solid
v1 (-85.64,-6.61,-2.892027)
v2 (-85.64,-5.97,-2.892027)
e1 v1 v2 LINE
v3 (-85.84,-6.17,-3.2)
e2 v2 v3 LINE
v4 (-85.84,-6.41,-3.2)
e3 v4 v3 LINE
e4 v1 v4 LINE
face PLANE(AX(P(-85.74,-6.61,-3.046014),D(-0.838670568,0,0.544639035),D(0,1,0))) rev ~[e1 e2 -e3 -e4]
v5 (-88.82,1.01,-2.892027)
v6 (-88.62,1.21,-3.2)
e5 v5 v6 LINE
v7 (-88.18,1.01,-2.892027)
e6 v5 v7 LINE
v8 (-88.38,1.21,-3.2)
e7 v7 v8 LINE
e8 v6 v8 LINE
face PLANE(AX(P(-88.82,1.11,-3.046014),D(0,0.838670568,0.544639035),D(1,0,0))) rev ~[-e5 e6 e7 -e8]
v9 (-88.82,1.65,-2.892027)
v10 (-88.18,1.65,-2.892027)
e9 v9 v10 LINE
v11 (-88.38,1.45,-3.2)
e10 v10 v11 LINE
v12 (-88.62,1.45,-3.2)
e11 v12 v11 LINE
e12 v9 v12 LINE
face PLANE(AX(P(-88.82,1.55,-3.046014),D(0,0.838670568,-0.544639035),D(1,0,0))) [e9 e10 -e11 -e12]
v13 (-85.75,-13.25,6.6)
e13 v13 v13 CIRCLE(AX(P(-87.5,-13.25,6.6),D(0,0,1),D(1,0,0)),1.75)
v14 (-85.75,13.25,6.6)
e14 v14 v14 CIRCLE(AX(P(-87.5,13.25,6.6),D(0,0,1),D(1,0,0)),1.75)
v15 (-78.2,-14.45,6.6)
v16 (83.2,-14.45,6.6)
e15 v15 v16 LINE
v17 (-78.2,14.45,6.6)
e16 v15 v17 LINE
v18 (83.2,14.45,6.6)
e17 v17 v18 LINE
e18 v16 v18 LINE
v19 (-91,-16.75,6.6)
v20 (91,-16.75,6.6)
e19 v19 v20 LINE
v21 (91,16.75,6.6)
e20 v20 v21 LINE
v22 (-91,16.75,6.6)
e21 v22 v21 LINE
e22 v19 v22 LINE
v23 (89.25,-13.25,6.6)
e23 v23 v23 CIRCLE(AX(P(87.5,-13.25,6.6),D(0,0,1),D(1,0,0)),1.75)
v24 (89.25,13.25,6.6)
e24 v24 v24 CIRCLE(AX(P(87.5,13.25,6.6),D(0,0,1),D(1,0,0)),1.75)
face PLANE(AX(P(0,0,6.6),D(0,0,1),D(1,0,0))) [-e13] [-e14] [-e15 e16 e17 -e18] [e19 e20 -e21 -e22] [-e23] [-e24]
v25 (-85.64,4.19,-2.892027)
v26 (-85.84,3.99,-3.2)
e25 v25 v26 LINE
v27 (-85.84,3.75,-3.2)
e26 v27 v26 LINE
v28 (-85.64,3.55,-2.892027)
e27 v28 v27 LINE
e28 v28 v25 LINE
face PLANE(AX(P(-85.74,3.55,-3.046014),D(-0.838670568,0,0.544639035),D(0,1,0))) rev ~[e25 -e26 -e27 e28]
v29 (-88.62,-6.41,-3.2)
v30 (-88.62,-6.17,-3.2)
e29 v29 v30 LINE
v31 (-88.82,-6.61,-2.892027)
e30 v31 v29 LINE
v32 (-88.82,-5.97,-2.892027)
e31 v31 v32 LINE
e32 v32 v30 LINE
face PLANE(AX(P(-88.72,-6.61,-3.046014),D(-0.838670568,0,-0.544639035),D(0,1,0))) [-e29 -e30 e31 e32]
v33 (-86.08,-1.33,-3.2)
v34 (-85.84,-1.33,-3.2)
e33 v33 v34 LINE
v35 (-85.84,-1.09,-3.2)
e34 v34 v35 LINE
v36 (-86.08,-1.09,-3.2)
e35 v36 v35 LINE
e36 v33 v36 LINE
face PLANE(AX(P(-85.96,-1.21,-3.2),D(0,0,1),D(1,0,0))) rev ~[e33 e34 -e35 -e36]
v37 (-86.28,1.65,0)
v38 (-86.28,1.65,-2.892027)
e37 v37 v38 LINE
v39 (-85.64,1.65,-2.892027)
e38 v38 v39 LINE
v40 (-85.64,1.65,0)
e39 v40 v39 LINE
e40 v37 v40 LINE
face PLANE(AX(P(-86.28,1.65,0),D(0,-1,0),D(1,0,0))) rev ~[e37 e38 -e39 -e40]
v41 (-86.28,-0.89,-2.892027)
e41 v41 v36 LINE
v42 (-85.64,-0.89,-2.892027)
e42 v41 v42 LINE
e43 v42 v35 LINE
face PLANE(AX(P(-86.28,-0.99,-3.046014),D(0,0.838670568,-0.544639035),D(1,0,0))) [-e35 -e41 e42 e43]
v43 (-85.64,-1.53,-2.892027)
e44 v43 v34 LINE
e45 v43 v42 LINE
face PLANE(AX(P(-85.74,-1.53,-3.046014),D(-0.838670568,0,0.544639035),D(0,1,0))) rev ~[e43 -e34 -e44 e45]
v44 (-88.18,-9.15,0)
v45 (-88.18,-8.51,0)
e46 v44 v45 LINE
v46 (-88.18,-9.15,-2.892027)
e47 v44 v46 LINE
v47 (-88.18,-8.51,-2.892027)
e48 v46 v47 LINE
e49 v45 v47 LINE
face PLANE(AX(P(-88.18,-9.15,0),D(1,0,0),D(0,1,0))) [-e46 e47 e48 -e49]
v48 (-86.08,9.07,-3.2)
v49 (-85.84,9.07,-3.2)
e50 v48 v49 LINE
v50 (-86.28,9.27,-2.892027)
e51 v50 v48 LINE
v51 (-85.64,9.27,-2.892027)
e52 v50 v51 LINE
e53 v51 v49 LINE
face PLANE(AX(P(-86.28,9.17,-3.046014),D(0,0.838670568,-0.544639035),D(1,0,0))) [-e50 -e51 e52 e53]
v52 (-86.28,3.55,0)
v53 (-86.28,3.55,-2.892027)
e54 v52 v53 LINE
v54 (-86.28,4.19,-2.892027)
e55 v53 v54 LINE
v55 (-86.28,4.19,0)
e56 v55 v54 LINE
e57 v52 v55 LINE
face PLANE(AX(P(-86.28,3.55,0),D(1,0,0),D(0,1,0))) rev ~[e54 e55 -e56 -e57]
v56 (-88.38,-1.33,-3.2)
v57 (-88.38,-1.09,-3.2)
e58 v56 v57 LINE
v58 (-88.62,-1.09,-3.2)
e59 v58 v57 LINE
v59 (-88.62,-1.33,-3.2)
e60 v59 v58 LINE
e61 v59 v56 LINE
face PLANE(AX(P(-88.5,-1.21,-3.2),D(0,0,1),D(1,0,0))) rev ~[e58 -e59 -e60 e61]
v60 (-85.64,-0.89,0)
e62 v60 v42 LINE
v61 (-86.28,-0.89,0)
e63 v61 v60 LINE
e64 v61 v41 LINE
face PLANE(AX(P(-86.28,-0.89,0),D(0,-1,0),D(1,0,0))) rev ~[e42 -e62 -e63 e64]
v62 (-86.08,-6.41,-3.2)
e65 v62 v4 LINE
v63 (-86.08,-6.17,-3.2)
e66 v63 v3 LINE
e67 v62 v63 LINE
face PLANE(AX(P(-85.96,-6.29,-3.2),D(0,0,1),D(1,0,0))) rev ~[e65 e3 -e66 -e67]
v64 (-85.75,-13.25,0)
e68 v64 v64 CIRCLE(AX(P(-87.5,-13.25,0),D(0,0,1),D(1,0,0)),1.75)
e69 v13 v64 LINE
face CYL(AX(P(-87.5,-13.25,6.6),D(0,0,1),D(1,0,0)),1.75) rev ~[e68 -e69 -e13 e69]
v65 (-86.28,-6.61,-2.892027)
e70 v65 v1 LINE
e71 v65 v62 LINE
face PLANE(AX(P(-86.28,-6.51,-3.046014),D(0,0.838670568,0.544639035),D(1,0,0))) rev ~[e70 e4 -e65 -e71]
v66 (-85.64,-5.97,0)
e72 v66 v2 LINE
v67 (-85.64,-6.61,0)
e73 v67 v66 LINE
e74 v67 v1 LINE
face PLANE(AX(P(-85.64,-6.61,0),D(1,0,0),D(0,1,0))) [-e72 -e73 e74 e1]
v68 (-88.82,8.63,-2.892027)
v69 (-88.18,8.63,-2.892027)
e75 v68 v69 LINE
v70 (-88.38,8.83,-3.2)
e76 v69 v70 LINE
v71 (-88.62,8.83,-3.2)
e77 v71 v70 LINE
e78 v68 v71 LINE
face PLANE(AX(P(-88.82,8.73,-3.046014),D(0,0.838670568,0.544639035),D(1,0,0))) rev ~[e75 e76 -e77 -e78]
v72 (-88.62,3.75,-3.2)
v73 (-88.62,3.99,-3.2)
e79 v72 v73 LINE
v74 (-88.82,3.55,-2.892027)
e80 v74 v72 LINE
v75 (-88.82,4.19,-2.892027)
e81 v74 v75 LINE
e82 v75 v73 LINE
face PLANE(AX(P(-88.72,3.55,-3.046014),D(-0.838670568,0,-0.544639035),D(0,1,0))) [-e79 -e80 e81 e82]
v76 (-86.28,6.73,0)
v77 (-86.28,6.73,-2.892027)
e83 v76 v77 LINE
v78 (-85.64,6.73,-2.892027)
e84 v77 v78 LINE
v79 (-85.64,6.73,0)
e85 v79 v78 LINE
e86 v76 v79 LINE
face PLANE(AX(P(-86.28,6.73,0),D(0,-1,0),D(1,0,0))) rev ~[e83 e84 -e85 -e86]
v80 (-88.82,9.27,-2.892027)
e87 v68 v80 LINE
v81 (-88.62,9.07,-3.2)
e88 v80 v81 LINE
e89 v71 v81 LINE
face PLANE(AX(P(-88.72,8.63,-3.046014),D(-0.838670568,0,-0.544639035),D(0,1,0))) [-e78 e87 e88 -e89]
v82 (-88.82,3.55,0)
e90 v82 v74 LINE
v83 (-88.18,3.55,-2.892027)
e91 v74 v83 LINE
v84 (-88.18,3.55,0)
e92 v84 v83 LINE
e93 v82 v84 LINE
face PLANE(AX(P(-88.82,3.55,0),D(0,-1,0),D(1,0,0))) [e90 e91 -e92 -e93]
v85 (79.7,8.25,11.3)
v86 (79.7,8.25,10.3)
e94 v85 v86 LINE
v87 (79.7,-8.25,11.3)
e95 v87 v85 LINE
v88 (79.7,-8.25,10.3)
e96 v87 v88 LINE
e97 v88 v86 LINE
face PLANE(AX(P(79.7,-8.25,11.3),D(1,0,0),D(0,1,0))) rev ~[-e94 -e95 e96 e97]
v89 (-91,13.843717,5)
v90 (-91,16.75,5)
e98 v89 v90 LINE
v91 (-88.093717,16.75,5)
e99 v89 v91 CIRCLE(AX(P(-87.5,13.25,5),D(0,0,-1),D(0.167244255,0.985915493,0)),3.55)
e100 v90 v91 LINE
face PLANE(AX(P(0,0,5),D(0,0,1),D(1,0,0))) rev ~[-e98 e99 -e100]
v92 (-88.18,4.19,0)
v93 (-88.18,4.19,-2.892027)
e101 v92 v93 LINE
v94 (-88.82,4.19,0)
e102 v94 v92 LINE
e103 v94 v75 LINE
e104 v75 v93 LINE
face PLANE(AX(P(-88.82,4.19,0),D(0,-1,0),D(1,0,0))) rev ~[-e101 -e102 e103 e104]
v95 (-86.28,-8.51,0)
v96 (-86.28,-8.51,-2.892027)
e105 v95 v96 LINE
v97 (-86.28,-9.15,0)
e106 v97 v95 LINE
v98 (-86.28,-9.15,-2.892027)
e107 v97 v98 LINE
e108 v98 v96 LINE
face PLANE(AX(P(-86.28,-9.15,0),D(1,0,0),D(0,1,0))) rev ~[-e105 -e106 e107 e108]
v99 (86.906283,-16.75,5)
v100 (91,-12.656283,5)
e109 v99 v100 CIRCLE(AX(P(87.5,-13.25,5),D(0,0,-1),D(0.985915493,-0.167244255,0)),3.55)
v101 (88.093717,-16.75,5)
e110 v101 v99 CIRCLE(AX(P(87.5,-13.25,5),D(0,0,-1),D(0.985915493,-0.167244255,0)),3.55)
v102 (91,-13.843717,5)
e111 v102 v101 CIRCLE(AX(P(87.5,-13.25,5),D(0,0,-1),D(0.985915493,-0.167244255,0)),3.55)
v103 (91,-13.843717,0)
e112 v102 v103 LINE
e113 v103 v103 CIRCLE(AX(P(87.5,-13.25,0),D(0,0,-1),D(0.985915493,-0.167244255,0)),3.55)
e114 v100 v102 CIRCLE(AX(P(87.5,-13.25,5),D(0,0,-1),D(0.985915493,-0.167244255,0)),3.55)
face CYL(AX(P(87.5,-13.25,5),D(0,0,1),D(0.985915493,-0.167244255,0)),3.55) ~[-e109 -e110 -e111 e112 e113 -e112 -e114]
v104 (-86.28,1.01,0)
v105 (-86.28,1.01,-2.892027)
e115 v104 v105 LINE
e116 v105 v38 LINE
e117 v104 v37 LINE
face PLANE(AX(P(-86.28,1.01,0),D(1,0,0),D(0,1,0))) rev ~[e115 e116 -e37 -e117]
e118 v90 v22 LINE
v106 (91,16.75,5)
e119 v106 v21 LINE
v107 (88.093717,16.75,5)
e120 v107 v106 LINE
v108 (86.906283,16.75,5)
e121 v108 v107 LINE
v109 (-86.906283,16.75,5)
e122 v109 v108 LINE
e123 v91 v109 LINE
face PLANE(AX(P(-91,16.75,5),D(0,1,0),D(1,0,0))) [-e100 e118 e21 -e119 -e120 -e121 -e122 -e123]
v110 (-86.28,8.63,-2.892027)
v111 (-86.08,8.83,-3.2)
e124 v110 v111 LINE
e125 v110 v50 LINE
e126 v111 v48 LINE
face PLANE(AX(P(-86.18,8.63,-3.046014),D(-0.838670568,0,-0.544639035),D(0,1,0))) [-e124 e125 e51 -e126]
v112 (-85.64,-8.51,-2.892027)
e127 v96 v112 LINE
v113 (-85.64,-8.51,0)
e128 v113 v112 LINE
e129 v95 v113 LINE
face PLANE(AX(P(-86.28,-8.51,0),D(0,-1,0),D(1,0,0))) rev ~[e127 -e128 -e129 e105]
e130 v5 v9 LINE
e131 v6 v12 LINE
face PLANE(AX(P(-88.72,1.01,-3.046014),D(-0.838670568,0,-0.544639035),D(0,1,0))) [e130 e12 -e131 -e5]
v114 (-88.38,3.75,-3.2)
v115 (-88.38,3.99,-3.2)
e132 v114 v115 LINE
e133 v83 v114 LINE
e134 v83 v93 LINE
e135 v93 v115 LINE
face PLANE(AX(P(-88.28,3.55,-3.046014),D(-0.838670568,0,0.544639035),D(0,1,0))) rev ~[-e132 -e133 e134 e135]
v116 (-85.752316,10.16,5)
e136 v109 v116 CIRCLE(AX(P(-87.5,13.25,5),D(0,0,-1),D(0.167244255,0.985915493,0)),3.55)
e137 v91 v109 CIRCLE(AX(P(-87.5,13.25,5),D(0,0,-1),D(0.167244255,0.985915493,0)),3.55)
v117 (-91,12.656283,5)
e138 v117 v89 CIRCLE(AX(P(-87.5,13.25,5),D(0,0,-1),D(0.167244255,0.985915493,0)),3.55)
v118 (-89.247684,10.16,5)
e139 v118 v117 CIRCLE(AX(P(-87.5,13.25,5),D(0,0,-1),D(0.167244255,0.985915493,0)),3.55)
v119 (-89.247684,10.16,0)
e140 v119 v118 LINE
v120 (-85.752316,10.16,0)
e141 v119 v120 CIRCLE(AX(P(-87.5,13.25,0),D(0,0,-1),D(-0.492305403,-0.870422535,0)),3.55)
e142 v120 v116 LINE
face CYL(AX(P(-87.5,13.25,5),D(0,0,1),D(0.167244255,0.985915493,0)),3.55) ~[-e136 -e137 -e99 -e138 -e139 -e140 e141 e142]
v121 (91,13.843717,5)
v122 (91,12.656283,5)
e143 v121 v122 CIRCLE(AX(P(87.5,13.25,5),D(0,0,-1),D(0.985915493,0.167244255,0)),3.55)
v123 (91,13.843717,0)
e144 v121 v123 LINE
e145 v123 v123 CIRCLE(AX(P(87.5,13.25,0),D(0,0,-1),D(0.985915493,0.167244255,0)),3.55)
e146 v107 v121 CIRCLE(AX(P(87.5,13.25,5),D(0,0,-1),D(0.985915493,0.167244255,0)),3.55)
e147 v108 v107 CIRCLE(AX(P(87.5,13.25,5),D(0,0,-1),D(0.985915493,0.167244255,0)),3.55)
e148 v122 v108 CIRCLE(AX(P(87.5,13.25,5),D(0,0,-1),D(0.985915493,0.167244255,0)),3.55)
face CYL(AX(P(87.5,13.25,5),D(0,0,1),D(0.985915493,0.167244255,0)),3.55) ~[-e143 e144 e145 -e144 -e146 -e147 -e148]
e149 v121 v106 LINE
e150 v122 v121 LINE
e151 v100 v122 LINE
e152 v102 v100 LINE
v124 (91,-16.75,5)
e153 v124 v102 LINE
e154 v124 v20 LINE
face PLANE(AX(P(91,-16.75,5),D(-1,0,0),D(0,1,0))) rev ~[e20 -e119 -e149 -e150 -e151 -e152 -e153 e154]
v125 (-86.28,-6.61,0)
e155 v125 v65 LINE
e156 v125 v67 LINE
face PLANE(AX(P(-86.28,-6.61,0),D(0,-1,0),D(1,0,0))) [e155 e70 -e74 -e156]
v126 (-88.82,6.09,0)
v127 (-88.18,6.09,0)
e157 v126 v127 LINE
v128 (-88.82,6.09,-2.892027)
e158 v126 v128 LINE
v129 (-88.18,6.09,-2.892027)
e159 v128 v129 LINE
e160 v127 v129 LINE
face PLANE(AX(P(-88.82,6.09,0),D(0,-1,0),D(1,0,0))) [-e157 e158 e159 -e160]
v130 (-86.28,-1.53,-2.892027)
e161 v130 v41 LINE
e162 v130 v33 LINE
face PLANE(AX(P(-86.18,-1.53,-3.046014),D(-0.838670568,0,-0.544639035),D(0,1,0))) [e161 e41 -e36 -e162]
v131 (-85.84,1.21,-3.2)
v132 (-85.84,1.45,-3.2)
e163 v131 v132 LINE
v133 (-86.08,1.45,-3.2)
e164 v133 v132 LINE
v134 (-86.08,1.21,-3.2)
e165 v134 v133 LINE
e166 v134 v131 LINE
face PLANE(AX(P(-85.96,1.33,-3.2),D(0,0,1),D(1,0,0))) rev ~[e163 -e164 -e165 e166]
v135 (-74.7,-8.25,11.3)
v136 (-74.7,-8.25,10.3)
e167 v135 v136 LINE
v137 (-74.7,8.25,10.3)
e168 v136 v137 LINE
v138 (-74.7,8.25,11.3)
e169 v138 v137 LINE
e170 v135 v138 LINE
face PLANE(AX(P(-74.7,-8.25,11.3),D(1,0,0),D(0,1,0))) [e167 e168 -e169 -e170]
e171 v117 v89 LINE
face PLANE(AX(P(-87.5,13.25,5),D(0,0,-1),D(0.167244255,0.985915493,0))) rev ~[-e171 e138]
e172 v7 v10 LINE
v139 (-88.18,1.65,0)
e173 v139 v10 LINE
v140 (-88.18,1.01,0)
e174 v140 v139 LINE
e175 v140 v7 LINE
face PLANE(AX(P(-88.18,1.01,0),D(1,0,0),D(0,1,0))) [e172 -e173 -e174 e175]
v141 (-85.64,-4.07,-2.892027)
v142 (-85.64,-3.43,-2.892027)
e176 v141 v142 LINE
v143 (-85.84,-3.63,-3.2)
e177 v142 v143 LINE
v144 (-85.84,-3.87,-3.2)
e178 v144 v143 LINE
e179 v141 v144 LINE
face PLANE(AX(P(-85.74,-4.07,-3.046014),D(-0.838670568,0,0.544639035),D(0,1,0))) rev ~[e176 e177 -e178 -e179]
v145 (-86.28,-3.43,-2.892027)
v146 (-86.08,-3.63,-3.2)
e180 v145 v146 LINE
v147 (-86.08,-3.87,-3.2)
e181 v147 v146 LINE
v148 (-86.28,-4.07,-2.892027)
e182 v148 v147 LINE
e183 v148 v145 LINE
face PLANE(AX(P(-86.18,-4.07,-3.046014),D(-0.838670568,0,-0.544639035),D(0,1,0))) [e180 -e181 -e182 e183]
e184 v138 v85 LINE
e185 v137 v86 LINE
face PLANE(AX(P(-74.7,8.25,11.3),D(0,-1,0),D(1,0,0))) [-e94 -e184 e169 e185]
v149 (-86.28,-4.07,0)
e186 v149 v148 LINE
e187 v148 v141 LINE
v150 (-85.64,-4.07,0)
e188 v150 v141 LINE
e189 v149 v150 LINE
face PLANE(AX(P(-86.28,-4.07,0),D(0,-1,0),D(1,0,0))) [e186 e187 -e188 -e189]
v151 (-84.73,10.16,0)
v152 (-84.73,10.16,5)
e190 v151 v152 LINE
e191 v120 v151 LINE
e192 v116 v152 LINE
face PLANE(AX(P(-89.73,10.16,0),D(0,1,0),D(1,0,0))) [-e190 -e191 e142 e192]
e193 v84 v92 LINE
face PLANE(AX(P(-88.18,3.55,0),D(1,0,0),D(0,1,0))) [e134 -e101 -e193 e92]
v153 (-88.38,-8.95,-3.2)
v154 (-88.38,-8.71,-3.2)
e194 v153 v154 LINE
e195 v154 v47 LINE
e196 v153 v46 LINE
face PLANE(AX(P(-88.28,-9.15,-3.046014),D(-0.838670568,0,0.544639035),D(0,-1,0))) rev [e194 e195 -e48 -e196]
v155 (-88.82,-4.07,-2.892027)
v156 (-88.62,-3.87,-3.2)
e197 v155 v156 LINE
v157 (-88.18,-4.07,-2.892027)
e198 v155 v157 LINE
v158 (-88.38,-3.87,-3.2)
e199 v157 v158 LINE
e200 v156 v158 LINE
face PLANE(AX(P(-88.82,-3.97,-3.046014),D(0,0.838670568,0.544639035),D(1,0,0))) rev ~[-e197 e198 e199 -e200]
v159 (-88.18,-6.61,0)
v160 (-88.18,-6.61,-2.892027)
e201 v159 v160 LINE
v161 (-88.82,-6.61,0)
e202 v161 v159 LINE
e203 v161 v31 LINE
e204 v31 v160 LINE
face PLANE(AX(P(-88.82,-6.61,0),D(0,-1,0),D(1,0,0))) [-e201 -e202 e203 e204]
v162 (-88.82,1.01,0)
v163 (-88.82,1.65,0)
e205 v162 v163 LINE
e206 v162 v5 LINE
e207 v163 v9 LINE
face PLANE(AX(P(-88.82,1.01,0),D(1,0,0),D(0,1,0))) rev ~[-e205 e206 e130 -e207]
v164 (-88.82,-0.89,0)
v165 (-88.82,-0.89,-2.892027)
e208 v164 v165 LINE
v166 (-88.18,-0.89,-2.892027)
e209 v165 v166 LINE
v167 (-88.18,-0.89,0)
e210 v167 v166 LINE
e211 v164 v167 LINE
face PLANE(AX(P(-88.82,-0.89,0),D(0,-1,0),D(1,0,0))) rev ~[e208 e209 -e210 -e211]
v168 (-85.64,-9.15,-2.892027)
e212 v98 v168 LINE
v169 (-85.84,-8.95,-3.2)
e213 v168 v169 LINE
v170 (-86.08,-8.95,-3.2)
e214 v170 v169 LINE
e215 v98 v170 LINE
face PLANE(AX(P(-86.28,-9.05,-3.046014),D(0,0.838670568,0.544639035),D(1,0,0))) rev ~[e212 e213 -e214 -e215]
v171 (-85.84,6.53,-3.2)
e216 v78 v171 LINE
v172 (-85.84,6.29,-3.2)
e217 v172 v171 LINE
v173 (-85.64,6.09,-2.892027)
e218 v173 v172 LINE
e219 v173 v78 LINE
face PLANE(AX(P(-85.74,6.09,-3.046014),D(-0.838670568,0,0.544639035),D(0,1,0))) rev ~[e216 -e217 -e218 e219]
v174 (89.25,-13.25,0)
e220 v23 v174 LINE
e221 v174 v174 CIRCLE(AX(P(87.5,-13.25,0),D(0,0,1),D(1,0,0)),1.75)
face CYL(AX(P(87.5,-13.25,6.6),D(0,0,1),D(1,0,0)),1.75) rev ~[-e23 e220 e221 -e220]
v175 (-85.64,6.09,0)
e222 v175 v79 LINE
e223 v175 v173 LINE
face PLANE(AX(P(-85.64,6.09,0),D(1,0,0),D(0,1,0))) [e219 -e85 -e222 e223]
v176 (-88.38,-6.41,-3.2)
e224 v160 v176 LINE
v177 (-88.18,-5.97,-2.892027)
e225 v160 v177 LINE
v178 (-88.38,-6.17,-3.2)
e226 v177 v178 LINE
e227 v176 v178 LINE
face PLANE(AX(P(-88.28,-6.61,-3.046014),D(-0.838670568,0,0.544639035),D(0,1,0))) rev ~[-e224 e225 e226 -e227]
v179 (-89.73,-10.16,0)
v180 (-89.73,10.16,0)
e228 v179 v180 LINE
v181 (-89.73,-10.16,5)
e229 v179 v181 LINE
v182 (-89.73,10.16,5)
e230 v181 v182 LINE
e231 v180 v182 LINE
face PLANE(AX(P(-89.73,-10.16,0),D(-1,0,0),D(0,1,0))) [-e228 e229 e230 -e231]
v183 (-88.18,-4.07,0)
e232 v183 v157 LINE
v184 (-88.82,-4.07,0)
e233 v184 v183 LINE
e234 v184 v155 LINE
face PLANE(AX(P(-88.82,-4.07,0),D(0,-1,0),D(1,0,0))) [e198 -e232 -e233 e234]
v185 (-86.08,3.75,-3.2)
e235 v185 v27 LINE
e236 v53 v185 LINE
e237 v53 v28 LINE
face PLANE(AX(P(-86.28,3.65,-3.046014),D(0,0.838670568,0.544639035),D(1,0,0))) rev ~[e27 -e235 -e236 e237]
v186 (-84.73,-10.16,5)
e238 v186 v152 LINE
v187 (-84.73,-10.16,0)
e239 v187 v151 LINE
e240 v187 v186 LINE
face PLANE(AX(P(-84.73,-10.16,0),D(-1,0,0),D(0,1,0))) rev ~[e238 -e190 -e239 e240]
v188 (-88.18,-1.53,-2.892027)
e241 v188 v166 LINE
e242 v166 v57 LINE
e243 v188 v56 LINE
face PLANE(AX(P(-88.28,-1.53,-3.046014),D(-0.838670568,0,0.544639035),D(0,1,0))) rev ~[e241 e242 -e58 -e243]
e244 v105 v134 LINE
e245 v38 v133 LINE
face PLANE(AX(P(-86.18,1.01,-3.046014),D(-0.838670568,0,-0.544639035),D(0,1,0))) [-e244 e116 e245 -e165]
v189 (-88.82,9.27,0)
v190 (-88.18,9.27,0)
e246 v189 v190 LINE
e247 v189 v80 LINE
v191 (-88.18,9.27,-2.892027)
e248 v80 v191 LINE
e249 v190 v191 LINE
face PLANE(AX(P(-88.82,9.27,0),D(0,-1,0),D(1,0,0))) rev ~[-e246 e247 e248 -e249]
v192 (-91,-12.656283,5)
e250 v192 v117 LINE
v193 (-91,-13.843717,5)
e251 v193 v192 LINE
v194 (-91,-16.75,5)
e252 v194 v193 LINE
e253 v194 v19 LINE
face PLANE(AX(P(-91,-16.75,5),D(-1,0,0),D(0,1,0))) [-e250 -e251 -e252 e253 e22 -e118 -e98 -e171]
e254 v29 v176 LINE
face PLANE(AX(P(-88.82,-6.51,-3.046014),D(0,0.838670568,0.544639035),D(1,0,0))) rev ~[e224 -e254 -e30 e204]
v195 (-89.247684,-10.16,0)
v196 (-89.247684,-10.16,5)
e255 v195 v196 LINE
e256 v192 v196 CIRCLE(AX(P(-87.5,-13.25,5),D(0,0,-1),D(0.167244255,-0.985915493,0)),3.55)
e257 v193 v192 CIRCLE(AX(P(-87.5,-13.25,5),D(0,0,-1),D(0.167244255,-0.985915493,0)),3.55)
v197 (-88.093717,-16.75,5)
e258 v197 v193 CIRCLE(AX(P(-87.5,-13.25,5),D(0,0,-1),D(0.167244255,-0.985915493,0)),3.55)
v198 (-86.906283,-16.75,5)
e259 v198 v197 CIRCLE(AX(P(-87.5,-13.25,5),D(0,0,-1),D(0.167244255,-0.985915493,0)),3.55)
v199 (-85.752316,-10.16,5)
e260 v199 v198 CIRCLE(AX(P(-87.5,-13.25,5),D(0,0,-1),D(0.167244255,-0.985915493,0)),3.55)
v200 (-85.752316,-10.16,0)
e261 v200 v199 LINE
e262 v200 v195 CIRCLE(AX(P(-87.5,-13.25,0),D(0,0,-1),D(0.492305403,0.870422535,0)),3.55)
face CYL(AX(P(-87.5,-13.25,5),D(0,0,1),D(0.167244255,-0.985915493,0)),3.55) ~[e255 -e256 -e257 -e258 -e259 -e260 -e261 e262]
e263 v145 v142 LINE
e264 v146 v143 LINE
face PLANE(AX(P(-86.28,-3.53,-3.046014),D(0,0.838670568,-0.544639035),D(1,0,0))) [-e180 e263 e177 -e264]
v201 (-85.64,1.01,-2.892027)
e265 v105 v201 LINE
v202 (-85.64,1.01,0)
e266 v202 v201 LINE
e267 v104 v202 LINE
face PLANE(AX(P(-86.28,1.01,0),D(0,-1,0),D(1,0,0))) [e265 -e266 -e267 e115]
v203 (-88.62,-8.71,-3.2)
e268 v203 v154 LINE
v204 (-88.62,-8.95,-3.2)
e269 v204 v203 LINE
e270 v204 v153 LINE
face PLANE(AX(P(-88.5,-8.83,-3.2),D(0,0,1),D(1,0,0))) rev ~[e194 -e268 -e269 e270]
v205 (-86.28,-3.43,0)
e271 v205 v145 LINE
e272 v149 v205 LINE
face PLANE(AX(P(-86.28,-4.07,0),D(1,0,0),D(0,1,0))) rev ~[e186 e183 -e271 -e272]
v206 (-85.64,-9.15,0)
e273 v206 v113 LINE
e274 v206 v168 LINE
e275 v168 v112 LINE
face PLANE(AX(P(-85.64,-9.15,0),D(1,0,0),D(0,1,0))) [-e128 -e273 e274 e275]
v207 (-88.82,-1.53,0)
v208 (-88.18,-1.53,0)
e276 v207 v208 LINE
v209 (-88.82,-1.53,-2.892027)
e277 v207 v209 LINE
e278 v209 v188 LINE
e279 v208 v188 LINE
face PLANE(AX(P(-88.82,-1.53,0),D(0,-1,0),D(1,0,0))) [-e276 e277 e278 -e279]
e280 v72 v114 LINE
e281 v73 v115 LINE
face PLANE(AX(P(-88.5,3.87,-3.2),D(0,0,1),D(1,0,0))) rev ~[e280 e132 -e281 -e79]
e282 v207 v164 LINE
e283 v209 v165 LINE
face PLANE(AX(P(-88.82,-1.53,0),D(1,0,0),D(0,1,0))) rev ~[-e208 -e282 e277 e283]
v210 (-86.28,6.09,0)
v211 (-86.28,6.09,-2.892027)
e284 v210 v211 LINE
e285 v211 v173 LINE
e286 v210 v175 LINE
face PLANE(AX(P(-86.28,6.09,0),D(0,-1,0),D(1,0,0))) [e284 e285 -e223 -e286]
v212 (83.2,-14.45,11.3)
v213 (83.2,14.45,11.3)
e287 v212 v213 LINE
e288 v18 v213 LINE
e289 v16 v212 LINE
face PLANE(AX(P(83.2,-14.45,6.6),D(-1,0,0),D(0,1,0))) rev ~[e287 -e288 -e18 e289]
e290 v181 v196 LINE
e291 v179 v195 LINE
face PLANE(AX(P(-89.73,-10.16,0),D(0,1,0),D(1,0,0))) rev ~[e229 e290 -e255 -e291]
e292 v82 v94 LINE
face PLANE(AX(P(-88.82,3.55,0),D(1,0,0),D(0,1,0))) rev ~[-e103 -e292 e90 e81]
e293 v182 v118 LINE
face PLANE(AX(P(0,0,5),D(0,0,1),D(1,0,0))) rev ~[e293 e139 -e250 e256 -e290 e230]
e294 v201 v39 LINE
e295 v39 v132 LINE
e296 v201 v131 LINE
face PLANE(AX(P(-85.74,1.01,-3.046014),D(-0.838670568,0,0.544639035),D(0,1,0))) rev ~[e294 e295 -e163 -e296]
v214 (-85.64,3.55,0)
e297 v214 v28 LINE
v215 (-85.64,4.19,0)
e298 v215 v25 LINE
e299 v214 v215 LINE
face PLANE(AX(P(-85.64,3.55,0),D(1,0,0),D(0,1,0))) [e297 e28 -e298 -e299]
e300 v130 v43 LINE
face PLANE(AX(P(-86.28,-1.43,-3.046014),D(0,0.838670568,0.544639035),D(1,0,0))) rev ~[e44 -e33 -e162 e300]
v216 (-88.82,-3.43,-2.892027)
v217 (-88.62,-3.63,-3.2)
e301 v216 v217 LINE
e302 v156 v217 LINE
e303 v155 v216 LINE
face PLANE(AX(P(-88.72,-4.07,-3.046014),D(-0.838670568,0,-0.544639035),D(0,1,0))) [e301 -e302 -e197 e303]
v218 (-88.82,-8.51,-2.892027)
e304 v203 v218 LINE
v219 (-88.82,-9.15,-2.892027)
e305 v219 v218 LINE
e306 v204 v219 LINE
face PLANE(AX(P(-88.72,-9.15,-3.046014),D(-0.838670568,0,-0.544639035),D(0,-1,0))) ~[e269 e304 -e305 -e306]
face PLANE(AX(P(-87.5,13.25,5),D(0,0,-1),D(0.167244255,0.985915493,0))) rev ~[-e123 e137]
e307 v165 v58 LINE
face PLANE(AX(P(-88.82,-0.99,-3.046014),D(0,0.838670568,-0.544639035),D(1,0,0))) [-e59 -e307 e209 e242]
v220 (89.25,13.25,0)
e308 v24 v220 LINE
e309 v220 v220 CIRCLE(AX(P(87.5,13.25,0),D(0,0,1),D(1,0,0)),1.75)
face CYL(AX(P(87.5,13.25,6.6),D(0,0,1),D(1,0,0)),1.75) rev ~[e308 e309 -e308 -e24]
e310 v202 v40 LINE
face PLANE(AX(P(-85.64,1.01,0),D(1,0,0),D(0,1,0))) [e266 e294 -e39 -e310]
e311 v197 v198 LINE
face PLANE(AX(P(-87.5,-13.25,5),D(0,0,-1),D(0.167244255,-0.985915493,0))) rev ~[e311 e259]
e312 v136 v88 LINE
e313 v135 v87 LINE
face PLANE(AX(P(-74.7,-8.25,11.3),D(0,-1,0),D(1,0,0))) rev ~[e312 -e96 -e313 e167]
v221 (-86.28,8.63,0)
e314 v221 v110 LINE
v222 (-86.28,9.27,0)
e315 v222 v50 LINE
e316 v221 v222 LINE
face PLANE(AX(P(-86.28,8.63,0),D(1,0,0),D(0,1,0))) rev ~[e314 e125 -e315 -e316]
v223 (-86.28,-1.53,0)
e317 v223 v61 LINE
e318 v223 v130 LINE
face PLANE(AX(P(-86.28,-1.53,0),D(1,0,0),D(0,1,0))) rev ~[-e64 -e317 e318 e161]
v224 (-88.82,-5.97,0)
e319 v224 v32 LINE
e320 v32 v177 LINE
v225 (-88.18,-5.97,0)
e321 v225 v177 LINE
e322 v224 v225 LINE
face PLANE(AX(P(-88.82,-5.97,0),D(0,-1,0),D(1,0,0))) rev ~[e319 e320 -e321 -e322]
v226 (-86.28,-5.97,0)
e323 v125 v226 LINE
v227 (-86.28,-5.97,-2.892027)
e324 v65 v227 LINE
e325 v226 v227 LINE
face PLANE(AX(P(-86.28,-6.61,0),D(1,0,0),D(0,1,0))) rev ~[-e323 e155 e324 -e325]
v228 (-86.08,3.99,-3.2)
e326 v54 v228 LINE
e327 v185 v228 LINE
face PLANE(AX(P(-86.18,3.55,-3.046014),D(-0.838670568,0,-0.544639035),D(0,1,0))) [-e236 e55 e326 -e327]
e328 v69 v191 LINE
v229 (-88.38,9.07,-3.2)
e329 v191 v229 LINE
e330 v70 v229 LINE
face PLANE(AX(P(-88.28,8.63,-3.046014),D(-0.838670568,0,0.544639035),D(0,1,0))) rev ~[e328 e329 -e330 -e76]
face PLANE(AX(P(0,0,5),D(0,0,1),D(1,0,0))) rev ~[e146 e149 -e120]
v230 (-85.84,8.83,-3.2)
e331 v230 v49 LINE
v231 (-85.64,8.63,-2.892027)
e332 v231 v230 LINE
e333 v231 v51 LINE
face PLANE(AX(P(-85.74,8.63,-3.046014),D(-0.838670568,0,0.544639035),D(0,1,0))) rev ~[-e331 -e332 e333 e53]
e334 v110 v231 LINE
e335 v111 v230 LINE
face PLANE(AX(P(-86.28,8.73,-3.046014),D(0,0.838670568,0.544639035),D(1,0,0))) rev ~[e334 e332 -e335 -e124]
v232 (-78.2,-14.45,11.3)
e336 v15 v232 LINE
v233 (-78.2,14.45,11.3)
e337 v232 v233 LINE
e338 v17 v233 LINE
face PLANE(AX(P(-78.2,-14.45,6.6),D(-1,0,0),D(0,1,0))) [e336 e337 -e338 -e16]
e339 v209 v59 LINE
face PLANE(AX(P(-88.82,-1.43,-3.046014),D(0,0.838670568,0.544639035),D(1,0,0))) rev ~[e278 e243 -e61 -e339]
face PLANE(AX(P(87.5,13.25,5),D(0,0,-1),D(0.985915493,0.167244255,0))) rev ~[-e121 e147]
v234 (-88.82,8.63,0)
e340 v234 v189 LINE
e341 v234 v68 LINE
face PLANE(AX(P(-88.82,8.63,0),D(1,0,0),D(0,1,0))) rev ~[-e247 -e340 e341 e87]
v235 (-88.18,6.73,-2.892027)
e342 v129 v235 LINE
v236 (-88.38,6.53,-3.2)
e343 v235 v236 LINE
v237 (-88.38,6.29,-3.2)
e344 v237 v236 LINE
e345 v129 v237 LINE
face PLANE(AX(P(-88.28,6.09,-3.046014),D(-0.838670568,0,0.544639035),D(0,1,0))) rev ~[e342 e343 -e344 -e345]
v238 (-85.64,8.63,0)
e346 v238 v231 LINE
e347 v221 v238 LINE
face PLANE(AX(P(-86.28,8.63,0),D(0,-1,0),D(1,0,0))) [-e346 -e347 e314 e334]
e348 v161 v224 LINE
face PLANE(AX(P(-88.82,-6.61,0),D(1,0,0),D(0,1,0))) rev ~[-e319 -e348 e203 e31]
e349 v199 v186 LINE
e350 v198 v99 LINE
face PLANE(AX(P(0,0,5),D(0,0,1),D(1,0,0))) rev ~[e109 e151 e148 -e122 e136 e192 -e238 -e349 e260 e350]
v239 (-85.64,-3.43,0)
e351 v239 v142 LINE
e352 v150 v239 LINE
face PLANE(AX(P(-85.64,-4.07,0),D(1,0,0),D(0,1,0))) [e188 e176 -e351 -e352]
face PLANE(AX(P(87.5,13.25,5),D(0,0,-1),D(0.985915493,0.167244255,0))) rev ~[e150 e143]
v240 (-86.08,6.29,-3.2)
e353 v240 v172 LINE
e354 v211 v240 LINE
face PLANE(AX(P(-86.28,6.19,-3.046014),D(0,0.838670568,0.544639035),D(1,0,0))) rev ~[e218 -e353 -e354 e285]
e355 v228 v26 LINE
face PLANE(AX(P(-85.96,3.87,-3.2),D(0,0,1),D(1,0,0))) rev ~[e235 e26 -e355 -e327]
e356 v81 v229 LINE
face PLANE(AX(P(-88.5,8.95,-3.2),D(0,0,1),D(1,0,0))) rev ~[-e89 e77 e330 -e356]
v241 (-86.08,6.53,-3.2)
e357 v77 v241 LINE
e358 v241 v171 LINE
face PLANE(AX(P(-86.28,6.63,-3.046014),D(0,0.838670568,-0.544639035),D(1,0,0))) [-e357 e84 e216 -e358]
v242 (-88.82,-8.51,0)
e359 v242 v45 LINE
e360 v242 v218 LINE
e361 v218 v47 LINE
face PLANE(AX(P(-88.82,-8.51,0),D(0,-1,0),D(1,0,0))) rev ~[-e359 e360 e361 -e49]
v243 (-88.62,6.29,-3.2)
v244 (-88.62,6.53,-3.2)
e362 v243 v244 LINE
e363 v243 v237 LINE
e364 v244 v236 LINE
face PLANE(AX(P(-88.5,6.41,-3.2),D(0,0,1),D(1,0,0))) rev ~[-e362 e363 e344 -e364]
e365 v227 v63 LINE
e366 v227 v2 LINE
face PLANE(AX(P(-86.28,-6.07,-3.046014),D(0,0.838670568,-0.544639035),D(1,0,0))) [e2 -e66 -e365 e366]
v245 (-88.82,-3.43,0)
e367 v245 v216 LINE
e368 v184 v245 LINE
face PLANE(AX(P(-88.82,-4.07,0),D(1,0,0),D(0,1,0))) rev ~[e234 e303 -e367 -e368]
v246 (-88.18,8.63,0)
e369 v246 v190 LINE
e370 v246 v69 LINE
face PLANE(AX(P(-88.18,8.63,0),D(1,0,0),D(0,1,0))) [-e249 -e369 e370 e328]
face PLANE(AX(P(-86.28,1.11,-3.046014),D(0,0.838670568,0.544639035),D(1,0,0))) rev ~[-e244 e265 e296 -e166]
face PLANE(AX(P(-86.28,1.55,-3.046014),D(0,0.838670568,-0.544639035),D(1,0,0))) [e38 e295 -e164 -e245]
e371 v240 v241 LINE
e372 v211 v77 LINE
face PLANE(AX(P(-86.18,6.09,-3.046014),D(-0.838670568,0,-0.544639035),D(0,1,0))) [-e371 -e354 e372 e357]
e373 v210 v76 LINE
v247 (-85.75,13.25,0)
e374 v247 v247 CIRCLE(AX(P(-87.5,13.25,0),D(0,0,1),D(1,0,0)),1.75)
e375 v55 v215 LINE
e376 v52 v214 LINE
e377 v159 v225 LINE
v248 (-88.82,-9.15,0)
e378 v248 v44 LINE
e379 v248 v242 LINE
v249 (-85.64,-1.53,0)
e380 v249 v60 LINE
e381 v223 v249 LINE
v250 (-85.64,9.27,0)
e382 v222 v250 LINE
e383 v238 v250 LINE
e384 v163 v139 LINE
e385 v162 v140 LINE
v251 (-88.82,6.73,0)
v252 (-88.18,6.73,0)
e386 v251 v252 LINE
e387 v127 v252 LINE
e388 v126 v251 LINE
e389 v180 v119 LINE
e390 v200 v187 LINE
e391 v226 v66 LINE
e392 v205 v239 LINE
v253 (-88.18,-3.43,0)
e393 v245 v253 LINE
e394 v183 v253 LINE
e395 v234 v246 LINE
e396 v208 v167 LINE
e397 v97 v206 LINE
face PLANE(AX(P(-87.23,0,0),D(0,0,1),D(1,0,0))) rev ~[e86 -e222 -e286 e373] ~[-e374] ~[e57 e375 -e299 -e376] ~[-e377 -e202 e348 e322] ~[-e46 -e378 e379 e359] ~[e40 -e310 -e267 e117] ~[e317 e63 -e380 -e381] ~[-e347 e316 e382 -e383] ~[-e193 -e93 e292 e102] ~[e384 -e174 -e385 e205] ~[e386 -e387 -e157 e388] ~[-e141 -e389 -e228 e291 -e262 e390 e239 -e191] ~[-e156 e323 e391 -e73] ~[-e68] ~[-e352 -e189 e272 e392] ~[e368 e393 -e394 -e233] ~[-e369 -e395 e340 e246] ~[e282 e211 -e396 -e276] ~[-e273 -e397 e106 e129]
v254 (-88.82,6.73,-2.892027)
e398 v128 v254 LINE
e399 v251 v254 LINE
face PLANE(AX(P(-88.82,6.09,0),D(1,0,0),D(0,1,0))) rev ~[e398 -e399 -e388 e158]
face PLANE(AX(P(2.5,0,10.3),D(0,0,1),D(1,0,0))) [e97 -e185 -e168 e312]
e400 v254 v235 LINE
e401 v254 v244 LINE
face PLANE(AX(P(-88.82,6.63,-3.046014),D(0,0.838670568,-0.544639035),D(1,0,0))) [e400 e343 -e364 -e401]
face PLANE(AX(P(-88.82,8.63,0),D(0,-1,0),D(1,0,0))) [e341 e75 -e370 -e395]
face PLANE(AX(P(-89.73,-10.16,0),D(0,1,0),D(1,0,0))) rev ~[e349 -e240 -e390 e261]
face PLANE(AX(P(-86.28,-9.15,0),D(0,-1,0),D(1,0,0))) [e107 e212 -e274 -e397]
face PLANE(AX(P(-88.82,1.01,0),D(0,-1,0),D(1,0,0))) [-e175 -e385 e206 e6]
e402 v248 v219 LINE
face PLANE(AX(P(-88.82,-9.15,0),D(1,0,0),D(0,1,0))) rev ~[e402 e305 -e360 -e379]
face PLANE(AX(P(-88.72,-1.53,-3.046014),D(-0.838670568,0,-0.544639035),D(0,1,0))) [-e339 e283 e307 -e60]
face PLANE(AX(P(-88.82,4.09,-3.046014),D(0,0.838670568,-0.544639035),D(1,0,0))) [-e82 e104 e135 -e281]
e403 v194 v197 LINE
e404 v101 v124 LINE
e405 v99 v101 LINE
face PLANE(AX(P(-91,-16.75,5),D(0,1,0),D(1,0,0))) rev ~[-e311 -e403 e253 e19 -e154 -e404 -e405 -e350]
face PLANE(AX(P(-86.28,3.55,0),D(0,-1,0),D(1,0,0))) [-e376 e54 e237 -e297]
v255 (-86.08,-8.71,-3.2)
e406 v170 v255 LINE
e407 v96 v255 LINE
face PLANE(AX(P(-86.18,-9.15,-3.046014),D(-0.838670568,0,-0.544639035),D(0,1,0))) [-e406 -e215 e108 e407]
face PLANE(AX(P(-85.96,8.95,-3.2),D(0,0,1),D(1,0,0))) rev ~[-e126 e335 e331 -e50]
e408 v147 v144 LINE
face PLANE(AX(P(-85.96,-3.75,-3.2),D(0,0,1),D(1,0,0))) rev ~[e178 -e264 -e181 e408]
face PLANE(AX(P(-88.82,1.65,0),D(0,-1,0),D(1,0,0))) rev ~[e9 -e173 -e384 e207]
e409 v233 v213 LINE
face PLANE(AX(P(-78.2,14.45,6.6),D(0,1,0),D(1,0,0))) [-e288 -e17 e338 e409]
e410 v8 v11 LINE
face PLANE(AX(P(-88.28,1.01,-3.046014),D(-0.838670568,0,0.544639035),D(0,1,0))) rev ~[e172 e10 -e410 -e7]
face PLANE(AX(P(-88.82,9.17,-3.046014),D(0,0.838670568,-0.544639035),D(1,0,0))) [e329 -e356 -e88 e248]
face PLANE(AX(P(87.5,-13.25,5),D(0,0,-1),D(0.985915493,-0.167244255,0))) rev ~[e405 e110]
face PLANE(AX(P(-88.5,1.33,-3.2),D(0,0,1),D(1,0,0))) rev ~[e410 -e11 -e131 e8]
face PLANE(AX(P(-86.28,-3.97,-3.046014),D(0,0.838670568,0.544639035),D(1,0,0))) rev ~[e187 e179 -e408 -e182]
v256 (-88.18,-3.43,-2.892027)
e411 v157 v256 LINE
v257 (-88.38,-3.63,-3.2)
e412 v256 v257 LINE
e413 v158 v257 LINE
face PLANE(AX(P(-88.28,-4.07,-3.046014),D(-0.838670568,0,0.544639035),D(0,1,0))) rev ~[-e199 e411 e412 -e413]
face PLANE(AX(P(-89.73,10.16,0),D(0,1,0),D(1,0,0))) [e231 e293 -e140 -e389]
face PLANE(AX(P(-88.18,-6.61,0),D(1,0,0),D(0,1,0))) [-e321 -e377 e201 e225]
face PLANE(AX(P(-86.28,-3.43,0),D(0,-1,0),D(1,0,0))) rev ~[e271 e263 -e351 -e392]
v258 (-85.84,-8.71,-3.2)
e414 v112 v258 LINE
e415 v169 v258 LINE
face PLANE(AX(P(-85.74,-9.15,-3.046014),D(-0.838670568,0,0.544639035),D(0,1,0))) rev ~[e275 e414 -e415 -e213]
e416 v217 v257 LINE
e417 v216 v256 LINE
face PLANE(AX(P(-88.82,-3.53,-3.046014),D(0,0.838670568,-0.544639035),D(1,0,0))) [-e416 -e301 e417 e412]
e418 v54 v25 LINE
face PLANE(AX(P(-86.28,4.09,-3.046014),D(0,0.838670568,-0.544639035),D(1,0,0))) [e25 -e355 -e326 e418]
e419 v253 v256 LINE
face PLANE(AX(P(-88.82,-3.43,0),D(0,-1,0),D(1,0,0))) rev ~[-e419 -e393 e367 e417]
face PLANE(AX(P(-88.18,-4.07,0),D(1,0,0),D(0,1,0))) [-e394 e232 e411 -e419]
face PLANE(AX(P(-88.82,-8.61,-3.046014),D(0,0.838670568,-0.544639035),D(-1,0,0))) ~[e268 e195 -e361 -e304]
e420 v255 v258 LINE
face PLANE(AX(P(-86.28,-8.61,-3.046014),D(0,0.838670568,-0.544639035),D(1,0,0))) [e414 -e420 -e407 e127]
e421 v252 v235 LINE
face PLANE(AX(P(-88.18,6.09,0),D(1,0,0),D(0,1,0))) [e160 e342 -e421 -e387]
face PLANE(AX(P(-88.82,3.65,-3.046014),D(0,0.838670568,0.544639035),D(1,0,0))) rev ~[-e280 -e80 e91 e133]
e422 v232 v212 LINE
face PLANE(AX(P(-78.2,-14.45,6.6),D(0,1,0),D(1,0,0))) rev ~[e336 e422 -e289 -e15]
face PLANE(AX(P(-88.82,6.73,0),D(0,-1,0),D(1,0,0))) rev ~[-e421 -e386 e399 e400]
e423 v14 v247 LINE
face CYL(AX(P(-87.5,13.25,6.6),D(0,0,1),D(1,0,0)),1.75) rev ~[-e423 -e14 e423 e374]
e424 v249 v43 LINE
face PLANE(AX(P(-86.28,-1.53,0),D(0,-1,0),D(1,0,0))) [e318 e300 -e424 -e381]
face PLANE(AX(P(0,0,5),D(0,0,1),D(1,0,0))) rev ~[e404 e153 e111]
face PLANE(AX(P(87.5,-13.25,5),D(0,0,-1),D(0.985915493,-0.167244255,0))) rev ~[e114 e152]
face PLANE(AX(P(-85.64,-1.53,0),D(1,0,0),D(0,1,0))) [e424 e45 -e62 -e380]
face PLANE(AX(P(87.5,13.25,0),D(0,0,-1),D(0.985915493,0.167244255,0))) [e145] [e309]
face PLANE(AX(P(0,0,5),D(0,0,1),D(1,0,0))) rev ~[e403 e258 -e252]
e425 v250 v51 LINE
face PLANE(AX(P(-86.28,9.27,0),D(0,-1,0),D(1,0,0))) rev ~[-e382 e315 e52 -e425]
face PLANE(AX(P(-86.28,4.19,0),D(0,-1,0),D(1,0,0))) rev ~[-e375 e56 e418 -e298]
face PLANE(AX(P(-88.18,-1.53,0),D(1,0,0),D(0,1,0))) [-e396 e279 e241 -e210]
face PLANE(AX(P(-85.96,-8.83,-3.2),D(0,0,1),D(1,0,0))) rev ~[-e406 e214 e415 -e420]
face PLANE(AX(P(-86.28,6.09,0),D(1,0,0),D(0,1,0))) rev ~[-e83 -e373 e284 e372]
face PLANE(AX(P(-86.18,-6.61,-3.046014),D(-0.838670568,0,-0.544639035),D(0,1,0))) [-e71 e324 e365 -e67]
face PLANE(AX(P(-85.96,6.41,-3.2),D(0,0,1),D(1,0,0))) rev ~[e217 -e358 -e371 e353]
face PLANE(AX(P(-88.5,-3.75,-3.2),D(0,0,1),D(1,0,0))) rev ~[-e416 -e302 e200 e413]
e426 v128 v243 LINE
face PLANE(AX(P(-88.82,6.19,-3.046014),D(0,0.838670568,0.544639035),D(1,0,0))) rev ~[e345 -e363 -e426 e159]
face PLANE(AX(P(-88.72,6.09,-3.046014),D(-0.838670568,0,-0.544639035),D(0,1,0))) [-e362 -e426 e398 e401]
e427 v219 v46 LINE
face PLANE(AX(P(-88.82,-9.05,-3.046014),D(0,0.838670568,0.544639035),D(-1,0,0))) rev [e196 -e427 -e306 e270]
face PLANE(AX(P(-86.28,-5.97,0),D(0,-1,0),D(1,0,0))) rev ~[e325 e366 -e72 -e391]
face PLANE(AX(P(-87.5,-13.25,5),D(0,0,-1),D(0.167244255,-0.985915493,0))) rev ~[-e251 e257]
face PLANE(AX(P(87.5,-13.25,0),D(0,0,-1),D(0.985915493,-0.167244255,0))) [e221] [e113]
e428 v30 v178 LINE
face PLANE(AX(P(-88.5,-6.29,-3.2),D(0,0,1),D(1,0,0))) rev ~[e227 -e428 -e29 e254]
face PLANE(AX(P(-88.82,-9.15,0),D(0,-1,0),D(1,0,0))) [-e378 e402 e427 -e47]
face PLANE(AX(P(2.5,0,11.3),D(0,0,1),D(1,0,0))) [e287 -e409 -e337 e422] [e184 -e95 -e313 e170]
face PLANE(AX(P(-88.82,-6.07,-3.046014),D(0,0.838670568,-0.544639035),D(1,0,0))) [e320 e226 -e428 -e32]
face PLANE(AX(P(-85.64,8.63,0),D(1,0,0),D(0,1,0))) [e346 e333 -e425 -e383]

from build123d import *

# Parameters (mm, degrees)
SKETCH_2_W                          = 182
SKETCH_2_H                          = 33.5
EXTRUDE_1_DEPTH                     = 1.6
SKETCH_3_W                          = 161.4
SKETCH_3_H                          = 28.9
EXTRUDE_2_DEPTH                     = 4.7
SKETCH_4_W                          = 154.4
SKETCH_4_H                          = 16.5
CUT_EXTRUDE_1_DEPTH                 = 1
SKETCH_6_R                          = 3.55
EXTRUDE_3_DEPTH                     = 5
SKETCH_5_R                          = 1.75
CUT_EXTRUDE_2_DEPTH                 = 93.821885889
SKETCH_7_W                          = 0.64
SKETCH_7_H                          = 0.64
EXTRUDE_4_DEPTH                     = 3.2
CHAMFER_1_SIZE                      = 0.2
CHAMFER_1_SIZE2                     = 0.307972993
SKETCH_9_W                          = 5
SKETCH_9_H                          = 20.32
EXTRUDE_5_DEPTH                     = 5
PATTERN_LINEAR_6_COUNT              = 8
PATTERN_LINEAR_6_PITCH              = 2.54
PATTERN_LINEAR_6_COUNT_DIR2         = 2
PATTERN_LINEAR_6_PITCH_DIR2         = 2.54
CHAMFER_1_OF_PATTERN_LINEAR_6_SIZE2 = 0.2
CHAMFER_1_OF_PATTERN_LINEAR_6_SIZE  = 0.307972993


with BuildPart() as part:
    # Эскиз2 → Бобышка-Вытянуть1 (new body)
    with BuildSketch(Plane.XY.offset(5)):
        Rectangle(SKETCH_2_W, SKETCH_2_H)
    extrude(amount=EXTRUDE_1_DEPTH)

    # Эскиз3 → Бобышка-Вытянуть2 (add)
    with BuildSketch(Plane.XY.offset(6.6)):
        with Locations((2.5, 0)):
            Rectangle(SKETCH_3_W, SKETCH_3_H)
    extrude(amount=EXTRUDE_2_DEPTH)

    # Эскиз4 → Вырез-Вытянуть1 (cut)
    with BuildSketch(Plane.XY.offset(11.3)):
        with Locations((2.5, 0)):
            Rectangle(SKETCH_4_W, SKETCH_4_H)
    extrude(amount=-CUT_EXTRUDE_1_DEPTH, mode=Mode.SUBTRACT)

    # Эскиз6 → Бобышка-Вытянуть3 (add)
    with BuildSketch(Plane(origin=(0, 0, 5), x_dir=(-1, 0, 0), z_dir=(0, 0, -1))):
        with Locations(Location((-87.5, -13.25, 0), (0, 0, 189.627632683))):
            Circle(SKETCH_6_R)
        with Locations(Location((-87.5, 13.25, 0), (0, 0, 170.372367317))):
            Circle(SKETCH_6_R)
        with Locations(Location((87.5, 13.25, 0), (0, 0, 99.627632683))):
            Circle(SKETCH_6_R)
        with Locations(Location((87.5, -13.25, 0), (0, 0, 260.372367317))):
            Circle(SKETCH_6_R)
    extrude(amount=EXTRUDE_3_DEPTH)

    # Эскиз5 → Вырез-Вытянуть2 (cut, through all)
    with BuildSketch(Plane.XY.offset(6.6)):
        with Locations((-87.5, 13.25)):
            Circle(SKETCH_5_R)
        with Locations((-87.5, -13.25)):
            Circle(SKETCH_5_R)
        with Locations((87.5, -13.25)):
            Circle(SKETCH_5_R)
        with Locations((87.5, 13.25)):
            Circle(SKETCH_5_R)
    extrude(amount=-CUT_EXTRUDE_2_DEPTH, mode=Mode.SUBTRACT)



with BuildPart() as body_2:
    # Эскиз7 → Бобышка-Вытянуть4 (new body)
    with BuildSketch(Plane.XY):
        with Locations((-88.5, -8.83)):
            Rectangle(SKETCH_7_W, SKETCH_7_H)
    extrude_4 = extrude(amount=-EXTRUDE_4_DEPTH)

    # Фаска1
    chamfer_1_edges = [body_2.edges().sort_by_distance(p)[0] for p in [
        (-88.18, -8.83, -3.2),
        (-88.5, -8.51, -3.2),
        (-88.82, -8.83, -3.2),
        (-88.5, -9.15, -3.2),
    ]]
    chamfer_1_side = [body_2.faces().sort_by_distance(p)[0] for p in [
        (-88.5, -8.83, -3.2),
    ]]
    chamfer(chamfer_1_edges, length=CHAMFER_1_SIZE, length2=CHAMFER_1_SIZE2, reference=chamfer_1_side[0])


with BuildPart() as part_1:
    add(part.part)

    add(body_2.part)  # Бобышка-Вытянуть5 merges body 2
    # Эскиз9 → Бобышка-Вытянуть5 (add)
    with BuildSketch(Plane.XY):
        with Locations((-87.23, 0)):
            Rectangle(SKETCH_9_W, SKETCH_9_H)
    extrude(amount=EXTRUDE_5_DEPTH)

    # Линейный массив6: Extrude 4 8 × 2
    with Locations(*[(j * PATTERN_LINEAR_6_PITCH_DIR2, i * PATTERN_LINEAR_6_PITCH, 0) for i in range(PATTERN_LINEAR_6_COUNT) for j in range(PATTERN_LINEAR_6_COUNT_DIR2) if (i, j) != (0, 0)]):
        add(extrude_4)

    # Фаска1 of Линейный массив6
    chamfer_1_of_pattern_linear_6_edges = [part_1.edges().sort_by_distance(p)[0] for p in [
        (-85.64, -8.83, -3.2),
        (-85.96, -8.51, -3.2),
        (-86.28, -8.83, -3.2),
        (-85.96, -9.15, -3.2),
        (-88.18, -6.29, -3.2),
        (-88.5, -5.97, -3.2),
        (-88.82, -6.29, -3.2),
        (-88.5, -6.61, -3.2),
        (-85.64, -6.29, -3.2),
        (-85.96, -5.97, -3.2),
        (-86.28, -6.29, -3.2),
        (-85.96, -6.61, -3.2),
        (-88.18, -3.75, -3.2),
        (-88.5, -3.43, -3.2),
        (-88.82, -3.75, -3.2),
        (-88.5, -4.07, -3.2),
        (-85.64, -3.75, -3.2),
        (-85.96, -3.43, -3.2),
        (-86.28, -3.75, -3.2),
        (-85.96, -4.07, -3.2),
        (-88.18, -1.21, -3.2),
        (-88.5, -0.89, -3.2),
        (-88.82, -1.21, -3.2),
        (-88.5, -1.53, -3.2),
        (-85.64, -1.21, -3.2),
        (-85.96, -0.89, -3.2),
        (-86.28, -1.21, -3.2),
        (-85.96, -1.53, -3.2),
        (-88.18, 1.33, -3.2),
        (-88.5, 1.65, -3.2),
        (-88.82, 1.33, -3.2),
        (-88.5, 1.01, -3.2),
        (-85.64, 1.33, -3.2),
        (-85.96, 1.65, -3.2),
        (-86.28, 1.33, -3.2),
        (-85.96, 1.01, -3.2),
        (-88.18, 3.87, -3.2),
        (-88.5, 4.19, -3.2),
        (-88.82, 3.87, -3.2),
        (-88.5, 3.55, -3.2),
        (-85.64, 3.87, -3.2),
        (-85.96, 4.19, -3.2),
        (-86.28, 3.87, -3.2),
        (-85.96, 3.55, -3.2),
        (-88.18, 6.41, -3.2),
        (-88.5, 6.73, -3.2),
        (-88.82, 6.41, -3.2),
        (-88.5, 6.09, -3.2),
        (-85.64, 6.41, -3.2),
        (-85.96, 6.73, -3.2),
        (-86.28, 6.41, -3.2),
        (-85.96, 6.09, -3.2),
        (-88.18, 8.95, -3.2),
        (-88.5, 9.27, -3.2),
        (-88.82, 8.95, -3.2),
        (-88.5, 8.63, -3.2),
        (-85.64, 8.95, -3.2),
        (-85.96, 9.27, -3.2),
        (-86.28, 8.95, -3.2),
        (-85.96, 8.63, -3.2),
    ]]
    chamfer(chamfer_1_of_pattern_linear_6_edges, length=CHAMFER_1_OF_PATTERN_LINEAR_6_SIZE, length2=CHAMFER_1_OF_PATTERN_LINEAR_6_SIZE2)


solid = part_1.part
